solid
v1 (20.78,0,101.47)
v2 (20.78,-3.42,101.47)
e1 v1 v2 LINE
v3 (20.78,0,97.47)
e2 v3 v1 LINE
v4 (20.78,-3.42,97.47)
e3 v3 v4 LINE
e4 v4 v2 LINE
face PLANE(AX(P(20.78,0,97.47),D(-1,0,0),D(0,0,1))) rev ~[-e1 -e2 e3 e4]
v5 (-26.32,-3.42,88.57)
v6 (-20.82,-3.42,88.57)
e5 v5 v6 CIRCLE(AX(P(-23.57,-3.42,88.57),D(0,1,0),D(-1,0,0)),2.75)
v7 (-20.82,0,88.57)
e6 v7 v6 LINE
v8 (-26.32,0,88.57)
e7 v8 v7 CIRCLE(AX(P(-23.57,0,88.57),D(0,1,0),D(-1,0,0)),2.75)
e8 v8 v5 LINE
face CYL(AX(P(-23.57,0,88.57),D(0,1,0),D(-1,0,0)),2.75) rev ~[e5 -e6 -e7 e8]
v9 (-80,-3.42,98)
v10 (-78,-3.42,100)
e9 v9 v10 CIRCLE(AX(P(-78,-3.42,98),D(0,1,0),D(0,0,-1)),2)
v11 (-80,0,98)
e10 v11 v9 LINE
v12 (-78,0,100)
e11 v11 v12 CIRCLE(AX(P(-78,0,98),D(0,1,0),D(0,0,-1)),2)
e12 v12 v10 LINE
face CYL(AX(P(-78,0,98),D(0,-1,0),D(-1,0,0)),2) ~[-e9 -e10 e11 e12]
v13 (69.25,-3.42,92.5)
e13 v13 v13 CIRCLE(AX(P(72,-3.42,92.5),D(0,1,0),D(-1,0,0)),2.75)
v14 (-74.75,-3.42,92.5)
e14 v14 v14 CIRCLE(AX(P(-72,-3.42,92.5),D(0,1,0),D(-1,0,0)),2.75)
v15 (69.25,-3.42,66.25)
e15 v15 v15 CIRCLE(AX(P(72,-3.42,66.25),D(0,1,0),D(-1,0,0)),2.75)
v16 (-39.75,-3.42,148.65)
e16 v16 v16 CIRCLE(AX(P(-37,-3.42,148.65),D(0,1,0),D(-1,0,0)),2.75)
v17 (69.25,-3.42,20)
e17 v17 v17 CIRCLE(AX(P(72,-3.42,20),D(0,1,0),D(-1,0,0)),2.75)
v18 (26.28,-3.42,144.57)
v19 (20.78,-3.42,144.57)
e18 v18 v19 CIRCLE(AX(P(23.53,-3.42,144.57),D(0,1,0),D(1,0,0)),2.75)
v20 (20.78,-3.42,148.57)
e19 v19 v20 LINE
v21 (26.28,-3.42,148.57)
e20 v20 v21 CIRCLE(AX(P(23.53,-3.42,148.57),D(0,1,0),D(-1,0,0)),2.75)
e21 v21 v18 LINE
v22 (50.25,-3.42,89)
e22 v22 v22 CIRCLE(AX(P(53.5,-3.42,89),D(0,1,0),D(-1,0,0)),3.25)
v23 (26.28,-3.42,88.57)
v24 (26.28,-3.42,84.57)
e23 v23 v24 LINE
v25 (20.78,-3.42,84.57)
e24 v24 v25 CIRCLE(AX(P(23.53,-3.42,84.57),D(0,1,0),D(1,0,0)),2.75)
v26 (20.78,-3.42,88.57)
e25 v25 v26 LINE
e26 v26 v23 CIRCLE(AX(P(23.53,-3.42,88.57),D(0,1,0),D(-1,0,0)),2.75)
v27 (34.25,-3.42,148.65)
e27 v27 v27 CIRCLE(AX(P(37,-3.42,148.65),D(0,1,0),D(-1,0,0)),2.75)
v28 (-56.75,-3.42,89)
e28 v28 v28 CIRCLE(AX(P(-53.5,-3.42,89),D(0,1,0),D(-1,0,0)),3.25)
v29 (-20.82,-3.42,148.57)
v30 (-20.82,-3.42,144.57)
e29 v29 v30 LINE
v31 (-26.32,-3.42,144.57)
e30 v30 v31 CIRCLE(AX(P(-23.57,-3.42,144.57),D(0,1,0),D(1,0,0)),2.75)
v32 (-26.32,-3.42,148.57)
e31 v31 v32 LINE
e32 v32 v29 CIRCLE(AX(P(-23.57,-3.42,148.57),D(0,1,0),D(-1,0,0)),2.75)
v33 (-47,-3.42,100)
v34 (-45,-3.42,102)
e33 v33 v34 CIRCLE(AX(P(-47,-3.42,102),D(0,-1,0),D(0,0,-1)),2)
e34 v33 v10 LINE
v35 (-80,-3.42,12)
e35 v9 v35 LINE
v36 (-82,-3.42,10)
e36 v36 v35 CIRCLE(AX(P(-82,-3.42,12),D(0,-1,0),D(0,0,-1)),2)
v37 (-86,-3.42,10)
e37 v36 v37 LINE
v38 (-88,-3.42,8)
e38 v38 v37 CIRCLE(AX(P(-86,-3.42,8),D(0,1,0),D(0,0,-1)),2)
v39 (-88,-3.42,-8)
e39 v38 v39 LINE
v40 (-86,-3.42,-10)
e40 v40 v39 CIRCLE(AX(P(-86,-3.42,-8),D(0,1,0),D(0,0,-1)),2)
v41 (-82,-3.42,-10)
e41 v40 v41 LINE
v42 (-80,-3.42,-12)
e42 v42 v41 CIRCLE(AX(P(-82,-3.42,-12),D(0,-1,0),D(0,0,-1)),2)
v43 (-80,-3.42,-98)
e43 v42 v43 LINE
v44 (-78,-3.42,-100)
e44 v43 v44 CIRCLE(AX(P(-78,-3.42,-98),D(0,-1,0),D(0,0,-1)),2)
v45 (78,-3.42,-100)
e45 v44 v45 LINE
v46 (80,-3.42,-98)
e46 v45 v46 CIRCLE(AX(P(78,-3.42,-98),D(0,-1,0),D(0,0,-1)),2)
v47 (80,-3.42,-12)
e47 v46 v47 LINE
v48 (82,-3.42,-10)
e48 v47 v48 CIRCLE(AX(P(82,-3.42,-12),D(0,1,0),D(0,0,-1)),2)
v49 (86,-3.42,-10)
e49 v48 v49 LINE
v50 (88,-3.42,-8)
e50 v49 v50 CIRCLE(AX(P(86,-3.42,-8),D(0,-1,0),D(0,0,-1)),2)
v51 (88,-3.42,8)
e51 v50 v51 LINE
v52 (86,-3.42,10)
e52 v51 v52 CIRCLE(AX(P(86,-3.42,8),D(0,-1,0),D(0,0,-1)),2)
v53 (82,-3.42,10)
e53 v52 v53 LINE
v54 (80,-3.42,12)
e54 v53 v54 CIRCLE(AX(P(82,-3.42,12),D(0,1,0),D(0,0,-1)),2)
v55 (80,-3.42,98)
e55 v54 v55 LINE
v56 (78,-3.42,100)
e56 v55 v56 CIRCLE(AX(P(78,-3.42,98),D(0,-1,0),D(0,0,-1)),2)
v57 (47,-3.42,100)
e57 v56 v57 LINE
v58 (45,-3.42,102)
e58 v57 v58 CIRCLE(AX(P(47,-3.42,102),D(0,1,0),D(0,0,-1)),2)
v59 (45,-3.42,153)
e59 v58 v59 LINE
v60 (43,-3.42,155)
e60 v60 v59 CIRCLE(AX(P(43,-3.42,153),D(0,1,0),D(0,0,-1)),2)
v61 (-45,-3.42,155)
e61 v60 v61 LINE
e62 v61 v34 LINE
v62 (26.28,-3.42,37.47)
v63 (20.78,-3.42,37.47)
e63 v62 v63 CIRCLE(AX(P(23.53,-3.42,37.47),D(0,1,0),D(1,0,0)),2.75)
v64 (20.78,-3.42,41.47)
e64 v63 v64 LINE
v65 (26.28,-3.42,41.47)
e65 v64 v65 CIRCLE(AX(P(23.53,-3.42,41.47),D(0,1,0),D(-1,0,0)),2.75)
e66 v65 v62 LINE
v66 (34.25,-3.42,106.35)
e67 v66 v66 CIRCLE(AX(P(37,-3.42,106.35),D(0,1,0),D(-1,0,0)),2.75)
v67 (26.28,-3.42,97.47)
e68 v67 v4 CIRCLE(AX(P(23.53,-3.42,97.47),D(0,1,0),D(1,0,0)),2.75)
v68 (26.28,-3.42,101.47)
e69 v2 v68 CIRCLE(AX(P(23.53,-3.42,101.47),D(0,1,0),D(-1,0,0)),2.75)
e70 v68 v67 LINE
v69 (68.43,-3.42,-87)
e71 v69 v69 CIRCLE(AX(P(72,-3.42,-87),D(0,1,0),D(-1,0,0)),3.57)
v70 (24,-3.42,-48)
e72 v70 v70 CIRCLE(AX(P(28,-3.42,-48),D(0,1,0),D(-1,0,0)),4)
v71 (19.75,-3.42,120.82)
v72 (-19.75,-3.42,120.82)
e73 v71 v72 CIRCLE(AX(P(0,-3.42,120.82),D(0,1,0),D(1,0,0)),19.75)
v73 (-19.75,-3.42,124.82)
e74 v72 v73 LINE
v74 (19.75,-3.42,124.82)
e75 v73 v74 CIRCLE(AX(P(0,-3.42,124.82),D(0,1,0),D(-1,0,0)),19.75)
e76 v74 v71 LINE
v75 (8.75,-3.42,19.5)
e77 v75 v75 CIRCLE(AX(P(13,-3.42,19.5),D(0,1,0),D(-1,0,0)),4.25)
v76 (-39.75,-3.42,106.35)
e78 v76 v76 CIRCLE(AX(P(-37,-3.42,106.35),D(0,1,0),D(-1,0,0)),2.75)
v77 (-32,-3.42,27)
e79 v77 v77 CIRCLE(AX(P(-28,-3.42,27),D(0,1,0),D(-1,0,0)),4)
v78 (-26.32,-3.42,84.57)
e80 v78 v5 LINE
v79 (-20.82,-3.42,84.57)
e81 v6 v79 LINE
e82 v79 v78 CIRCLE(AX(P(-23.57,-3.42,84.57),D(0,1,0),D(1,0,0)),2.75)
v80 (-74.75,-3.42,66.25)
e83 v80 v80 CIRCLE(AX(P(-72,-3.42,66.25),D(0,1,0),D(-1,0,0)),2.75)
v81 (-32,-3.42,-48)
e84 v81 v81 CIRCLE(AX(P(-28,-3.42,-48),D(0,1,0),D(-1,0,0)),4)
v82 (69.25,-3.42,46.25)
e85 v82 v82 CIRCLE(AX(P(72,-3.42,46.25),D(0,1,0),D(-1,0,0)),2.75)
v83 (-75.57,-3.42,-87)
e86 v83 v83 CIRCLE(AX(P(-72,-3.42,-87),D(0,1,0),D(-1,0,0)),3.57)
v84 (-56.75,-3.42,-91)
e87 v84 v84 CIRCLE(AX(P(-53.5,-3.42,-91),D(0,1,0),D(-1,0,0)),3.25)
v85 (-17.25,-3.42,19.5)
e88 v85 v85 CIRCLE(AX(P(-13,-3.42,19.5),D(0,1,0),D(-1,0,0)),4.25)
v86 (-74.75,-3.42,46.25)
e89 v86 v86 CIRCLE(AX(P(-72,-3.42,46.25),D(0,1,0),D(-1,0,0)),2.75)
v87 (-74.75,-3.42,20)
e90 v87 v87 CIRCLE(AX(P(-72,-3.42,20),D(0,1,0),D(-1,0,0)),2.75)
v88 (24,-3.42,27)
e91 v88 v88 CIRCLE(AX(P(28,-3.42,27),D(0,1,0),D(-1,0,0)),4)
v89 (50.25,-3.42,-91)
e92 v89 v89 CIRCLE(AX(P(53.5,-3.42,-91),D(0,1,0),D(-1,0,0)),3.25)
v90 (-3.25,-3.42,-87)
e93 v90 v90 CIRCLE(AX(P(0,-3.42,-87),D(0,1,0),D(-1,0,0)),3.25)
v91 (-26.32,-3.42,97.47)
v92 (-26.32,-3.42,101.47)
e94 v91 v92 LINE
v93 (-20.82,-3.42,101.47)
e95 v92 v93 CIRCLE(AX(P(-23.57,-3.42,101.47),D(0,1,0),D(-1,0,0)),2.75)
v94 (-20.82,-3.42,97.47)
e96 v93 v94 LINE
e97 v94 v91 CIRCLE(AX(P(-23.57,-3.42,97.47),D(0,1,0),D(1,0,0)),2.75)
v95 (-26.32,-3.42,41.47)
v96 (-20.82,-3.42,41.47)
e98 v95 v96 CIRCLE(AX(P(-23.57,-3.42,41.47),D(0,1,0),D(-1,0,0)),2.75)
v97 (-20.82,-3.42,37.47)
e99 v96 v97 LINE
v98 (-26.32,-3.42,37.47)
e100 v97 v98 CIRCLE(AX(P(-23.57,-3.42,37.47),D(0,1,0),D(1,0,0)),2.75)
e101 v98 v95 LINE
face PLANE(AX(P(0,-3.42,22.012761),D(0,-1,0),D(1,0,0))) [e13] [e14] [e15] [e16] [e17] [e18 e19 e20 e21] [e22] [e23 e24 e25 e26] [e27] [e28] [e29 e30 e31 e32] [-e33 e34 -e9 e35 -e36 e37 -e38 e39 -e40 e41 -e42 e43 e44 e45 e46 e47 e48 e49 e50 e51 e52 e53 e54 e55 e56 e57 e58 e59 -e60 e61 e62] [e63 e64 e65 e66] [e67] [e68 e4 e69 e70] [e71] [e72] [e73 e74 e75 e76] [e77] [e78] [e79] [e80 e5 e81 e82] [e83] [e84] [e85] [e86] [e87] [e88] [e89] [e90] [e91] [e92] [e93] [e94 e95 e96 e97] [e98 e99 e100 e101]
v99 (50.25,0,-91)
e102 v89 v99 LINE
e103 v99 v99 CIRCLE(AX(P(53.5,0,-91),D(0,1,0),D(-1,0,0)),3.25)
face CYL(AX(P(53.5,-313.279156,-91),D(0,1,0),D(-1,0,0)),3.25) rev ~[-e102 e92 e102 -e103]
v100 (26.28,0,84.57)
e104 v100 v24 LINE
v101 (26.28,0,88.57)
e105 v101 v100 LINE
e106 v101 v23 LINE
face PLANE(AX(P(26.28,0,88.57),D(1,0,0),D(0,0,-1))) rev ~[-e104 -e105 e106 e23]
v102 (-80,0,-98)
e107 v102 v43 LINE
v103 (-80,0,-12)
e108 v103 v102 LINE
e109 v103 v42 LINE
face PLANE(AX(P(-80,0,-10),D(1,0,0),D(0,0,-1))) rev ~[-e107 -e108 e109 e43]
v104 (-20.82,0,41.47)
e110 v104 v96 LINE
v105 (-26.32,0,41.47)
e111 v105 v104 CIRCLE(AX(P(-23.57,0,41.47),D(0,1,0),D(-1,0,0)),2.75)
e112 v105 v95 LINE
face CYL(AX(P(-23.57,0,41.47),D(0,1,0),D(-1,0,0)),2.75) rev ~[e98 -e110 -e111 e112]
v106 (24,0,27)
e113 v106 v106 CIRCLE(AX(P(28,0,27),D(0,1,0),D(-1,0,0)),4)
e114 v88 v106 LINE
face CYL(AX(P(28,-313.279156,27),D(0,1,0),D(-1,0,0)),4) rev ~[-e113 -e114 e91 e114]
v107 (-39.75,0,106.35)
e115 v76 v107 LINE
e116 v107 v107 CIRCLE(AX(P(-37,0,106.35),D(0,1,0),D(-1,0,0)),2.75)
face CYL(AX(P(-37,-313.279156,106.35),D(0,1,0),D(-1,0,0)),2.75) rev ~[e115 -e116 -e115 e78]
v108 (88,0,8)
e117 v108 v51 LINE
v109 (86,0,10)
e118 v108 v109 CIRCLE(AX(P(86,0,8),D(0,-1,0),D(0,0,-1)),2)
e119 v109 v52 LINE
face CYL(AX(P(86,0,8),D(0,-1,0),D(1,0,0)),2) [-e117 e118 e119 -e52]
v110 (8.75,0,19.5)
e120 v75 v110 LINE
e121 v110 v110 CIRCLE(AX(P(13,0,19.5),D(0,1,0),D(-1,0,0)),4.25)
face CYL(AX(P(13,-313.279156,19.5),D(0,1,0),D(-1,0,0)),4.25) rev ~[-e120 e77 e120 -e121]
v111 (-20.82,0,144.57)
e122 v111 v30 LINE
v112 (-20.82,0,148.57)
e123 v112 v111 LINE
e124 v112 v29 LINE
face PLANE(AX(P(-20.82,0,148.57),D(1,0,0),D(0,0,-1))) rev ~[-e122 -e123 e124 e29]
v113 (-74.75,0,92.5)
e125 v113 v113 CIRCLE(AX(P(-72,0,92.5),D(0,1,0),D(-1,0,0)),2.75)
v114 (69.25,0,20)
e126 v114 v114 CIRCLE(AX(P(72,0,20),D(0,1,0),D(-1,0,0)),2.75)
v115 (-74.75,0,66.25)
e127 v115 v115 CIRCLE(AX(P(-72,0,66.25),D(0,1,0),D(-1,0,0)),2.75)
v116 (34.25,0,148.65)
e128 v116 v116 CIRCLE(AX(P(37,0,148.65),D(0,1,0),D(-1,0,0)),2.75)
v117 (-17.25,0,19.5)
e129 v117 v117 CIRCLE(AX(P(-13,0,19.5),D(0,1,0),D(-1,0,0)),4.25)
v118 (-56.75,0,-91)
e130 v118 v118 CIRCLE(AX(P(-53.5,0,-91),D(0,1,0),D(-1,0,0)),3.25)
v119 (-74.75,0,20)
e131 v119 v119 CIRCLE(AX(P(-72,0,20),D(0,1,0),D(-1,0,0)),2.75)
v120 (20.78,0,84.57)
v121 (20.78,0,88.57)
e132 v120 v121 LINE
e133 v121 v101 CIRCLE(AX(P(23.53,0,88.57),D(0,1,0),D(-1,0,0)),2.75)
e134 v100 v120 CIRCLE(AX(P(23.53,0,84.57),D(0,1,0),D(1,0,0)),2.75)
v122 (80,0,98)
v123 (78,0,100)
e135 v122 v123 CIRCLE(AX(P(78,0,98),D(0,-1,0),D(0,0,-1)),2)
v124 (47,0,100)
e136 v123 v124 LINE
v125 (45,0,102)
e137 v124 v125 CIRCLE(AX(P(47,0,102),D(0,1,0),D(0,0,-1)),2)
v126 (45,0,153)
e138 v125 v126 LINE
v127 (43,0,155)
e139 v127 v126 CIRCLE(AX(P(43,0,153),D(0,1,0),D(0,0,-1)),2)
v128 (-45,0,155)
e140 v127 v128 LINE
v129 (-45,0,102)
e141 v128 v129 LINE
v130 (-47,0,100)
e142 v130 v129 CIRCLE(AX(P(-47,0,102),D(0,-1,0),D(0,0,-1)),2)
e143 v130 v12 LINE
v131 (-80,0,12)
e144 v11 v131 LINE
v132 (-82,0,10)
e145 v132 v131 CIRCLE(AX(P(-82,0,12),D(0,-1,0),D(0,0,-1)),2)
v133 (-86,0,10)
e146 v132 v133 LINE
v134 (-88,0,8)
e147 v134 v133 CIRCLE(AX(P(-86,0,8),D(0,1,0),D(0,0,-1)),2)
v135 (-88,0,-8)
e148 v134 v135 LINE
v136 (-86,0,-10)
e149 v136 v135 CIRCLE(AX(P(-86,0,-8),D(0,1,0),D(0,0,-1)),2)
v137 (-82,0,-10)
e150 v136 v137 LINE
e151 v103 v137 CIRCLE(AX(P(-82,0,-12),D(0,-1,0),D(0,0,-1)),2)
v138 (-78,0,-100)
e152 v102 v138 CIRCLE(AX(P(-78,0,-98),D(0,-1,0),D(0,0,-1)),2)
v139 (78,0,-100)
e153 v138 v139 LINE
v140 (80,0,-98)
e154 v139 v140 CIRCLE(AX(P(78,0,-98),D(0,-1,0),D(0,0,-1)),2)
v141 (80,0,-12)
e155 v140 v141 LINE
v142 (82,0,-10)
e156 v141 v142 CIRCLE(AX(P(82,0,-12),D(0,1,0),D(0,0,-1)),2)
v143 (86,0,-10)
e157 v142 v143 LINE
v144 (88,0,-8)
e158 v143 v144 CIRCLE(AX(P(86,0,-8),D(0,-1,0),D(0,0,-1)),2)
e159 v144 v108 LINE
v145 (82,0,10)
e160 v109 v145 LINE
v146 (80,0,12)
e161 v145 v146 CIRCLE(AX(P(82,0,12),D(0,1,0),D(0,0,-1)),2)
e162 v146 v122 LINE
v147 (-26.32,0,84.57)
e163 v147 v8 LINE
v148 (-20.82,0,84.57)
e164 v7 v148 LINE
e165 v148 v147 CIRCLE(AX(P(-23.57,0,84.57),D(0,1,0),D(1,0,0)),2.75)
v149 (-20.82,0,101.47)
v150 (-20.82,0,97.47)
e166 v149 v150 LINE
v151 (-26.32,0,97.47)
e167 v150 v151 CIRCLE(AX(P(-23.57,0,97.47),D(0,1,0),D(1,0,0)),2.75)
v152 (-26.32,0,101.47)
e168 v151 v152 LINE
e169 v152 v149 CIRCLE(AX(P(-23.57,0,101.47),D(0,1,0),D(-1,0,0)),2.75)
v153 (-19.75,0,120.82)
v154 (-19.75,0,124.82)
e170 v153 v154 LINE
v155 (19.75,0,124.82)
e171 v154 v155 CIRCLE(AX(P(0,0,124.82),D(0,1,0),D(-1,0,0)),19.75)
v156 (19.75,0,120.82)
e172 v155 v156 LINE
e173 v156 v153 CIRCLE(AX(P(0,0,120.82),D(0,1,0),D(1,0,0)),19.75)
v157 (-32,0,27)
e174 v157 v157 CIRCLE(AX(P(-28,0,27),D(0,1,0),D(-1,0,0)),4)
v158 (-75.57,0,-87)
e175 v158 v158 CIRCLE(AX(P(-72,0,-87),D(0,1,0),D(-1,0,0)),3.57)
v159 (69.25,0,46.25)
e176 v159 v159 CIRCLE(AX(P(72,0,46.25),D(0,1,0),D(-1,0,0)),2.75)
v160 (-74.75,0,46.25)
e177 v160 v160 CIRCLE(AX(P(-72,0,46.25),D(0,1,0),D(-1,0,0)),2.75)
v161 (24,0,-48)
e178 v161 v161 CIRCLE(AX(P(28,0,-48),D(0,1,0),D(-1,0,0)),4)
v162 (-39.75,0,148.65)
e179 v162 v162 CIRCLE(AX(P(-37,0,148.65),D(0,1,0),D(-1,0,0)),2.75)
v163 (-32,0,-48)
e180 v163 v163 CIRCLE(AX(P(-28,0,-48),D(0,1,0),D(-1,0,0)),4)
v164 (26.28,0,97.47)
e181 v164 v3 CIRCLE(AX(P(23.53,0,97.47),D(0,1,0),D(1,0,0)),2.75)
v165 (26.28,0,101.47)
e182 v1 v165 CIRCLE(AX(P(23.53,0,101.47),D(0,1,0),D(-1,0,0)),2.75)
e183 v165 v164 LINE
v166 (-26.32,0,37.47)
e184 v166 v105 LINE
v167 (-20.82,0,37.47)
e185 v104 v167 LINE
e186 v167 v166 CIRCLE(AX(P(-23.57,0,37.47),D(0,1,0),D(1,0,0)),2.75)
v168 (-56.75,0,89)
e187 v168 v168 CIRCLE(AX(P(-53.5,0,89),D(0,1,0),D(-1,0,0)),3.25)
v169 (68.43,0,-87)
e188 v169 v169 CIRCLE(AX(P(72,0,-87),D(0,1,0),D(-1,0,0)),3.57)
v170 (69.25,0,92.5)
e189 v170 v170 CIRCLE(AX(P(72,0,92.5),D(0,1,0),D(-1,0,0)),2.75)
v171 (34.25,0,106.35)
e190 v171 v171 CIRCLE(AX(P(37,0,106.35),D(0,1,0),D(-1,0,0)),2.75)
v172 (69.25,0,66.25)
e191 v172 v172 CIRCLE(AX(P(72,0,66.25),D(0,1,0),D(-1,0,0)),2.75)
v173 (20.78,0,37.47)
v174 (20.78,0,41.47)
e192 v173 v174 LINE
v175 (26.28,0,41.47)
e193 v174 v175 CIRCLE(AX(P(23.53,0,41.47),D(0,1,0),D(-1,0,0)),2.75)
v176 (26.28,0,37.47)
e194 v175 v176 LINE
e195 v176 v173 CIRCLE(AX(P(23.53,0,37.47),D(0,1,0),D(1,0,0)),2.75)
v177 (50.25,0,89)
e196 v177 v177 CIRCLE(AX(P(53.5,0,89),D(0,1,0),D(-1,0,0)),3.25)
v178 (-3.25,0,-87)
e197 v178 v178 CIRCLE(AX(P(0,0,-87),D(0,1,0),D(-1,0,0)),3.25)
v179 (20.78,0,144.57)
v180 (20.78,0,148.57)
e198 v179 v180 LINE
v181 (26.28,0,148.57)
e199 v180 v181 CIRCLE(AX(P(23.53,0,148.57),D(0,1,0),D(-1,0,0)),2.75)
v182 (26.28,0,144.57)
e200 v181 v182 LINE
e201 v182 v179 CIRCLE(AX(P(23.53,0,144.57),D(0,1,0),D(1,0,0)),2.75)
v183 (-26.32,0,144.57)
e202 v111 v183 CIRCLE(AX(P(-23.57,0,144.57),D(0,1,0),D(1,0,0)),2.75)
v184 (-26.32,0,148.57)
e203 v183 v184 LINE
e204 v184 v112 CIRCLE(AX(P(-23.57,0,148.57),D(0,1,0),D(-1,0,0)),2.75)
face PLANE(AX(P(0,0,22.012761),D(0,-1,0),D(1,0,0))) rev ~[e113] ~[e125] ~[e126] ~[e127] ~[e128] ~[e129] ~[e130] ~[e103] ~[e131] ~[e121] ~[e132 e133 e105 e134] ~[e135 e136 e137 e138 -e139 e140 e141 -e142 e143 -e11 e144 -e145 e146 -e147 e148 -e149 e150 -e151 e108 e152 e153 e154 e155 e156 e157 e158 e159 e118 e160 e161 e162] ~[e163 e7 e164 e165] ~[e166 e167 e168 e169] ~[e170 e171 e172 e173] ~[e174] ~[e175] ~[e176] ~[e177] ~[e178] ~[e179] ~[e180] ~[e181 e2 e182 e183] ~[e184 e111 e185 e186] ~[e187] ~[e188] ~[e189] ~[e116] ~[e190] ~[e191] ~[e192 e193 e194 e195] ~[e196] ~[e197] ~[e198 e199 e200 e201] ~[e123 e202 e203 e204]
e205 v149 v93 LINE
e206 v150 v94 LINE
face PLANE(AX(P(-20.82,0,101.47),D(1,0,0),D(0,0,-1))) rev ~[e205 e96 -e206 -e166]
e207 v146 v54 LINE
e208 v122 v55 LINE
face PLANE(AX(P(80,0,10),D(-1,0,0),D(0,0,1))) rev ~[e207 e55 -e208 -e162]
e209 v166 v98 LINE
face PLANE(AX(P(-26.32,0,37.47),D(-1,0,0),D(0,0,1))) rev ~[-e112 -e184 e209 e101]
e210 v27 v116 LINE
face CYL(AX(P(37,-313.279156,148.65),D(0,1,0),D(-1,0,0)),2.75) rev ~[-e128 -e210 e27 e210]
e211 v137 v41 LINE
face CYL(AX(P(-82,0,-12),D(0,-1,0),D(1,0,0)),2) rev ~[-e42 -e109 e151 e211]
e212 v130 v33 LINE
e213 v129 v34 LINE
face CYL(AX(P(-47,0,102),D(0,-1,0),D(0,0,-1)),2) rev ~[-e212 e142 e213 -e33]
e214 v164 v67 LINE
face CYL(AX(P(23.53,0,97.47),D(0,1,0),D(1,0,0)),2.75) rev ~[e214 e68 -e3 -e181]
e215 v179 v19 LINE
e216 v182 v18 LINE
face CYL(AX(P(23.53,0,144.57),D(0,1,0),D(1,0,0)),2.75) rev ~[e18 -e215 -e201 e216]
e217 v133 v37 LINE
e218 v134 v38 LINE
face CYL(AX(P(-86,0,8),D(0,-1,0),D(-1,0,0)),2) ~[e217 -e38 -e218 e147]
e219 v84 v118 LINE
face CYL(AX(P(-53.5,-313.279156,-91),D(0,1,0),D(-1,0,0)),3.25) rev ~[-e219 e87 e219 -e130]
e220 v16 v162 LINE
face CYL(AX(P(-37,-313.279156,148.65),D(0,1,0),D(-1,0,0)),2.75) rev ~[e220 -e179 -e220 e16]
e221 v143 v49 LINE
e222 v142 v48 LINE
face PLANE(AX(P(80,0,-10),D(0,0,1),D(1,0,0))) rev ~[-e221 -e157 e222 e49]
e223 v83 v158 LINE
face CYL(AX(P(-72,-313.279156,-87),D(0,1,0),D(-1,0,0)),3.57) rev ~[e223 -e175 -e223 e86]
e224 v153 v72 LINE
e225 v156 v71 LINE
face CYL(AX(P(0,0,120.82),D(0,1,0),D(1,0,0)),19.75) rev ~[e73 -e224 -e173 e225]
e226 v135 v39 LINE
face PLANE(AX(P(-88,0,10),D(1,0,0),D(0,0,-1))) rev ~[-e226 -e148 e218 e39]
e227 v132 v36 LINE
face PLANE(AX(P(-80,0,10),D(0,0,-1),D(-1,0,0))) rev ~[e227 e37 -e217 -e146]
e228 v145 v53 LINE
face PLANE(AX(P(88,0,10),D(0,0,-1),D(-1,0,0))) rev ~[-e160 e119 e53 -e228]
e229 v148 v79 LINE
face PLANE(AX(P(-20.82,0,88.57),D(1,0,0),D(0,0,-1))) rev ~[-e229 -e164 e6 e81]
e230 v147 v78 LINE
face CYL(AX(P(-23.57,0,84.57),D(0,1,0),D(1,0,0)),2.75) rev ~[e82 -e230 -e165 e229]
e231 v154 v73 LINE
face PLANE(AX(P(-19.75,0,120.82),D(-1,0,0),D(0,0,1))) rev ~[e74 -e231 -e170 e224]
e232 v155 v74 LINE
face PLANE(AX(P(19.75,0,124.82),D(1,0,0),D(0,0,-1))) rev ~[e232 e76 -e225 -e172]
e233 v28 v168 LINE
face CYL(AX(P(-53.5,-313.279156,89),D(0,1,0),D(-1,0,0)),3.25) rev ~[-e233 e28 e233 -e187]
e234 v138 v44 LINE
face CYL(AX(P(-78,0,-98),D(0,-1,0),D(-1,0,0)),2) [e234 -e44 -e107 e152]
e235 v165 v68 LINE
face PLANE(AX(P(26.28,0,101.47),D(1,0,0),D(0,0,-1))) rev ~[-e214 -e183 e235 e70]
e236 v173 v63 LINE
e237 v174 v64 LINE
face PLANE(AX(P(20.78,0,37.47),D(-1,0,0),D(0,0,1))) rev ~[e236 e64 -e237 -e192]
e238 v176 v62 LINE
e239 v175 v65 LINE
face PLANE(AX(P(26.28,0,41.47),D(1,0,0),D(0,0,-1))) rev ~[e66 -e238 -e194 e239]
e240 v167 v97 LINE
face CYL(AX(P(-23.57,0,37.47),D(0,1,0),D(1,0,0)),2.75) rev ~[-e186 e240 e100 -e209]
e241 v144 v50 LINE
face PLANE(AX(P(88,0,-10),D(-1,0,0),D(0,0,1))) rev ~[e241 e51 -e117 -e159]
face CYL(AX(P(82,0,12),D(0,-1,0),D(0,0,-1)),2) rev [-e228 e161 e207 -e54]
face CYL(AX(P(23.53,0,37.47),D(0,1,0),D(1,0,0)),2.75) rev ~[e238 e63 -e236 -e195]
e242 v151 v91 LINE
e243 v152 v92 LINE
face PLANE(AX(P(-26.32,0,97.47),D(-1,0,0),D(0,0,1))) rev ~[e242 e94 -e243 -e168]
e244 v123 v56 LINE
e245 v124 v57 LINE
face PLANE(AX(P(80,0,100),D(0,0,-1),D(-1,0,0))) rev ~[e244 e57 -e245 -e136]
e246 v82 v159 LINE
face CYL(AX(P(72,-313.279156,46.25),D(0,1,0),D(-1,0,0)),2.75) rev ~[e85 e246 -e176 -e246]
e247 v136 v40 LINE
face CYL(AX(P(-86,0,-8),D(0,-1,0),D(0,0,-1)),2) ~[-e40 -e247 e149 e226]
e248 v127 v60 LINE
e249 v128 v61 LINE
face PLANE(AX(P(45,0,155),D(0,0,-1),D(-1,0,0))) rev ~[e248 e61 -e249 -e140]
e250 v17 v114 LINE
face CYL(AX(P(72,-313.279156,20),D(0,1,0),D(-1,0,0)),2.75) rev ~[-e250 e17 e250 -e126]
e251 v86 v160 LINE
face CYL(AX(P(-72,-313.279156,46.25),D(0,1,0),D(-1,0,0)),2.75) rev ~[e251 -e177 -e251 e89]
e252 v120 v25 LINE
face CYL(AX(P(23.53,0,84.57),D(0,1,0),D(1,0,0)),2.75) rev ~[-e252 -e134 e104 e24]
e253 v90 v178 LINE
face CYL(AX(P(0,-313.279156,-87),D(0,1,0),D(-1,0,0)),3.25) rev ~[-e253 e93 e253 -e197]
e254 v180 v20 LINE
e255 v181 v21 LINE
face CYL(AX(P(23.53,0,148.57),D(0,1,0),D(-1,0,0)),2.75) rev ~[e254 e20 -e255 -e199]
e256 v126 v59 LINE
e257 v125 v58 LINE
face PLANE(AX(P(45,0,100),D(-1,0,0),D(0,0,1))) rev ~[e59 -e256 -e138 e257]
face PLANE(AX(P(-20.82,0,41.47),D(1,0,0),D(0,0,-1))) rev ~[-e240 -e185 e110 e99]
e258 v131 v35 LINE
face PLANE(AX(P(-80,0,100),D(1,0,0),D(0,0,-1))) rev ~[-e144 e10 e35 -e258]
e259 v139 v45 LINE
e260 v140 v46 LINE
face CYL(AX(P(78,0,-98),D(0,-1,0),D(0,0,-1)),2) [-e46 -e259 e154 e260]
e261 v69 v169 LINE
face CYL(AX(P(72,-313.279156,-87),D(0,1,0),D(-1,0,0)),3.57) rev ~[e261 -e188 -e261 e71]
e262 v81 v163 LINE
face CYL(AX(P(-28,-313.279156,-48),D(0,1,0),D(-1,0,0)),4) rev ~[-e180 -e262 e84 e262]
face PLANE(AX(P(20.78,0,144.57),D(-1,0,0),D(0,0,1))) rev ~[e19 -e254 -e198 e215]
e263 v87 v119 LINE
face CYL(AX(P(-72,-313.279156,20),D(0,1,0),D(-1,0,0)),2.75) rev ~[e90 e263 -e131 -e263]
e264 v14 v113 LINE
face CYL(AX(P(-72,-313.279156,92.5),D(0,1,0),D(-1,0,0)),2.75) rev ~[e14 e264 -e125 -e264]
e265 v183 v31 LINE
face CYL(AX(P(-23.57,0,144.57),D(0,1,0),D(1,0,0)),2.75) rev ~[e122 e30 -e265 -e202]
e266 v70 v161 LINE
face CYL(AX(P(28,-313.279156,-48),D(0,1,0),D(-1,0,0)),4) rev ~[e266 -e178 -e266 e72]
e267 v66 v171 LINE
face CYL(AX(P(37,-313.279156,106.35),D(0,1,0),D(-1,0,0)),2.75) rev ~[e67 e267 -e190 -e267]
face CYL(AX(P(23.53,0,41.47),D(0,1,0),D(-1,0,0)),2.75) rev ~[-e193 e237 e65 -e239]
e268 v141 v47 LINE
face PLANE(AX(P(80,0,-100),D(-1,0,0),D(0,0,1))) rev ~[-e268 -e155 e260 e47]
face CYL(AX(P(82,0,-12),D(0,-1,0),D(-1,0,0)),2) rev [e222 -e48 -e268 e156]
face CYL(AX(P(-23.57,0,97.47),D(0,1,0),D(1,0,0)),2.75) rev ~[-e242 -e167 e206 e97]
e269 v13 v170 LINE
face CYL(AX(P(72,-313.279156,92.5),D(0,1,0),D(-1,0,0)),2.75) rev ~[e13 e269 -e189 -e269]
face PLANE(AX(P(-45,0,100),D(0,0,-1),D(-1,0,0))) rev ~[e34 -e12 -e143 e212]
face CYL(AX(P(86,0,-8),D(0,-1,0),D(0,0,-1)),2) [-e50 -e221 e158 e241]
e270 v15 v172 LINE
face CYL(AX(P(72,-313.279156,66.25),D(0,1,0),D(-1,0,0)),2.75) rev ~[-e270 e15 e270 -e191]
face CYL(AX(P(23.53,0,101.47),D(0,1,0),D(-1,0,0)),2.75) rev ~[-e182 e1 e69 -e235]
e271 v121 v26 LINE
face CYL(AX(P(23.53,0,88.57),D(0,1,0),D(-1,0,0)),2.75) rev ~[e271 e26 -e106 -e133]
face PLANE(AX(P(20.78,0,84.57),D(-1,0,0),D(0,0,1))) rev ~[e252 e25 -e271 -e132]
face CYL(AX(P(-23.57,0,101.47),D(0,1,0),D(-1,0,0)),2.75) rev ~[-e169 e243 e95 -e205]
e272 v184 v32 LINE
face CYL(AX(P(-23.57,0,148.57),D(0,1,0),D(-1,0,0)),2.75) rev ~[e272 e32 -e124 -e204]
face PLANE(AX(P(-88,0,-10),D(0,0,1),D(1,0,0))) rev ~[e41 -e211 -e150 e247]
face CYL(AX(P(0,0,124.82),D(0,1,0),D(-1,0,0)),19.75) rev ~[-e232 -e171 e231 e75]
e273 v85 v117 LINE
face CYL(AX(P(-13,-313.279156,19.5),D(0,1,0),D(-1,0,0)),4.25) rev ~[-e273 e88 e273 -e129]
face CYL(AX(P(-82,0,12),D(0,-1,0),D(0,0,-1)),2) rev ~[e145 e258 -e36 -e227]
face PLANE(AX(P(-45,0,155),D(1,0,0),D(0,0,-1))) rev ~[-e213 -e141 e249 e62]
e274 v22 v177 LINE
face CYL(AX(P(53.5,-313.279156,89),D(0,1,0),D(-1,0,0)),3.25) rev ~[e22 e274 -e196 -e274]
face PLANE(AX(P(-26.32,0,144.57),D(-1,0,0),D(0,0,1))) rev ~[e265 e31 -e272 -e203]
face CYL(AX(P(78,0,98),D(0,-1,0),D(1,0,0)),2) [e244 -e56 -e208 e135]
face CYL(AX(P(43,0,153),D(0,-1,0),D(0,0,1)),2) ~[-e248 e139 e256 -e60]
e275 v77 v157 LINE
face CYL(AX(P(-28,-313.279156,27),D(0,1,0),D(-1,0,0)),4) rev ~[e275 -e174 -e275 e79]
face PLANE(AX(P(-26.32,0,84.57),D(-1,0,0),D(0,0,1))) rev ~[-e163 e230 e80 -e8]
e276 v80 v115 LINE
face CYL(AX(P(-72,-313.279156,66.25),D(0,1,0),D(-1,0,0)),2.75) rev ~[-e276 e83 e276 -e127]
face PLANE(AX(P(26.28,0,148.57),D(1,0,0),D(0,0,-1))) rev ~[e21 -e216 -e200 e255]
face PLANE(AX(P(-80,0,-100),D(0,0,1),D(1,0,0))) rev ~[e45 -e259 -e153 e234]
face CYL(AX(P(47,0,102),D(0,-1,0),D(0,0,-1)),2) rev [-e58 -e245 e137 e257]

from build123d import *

# Parameters (mm, degrees)
F1_DEPTH = 3.42
F2_R     = 2
F4_D     = 8
F5_D     = 8.5
F6_D     = 6.5
F7_D     = 7.14
F8_D     = 5.5


with BuildPart() as f1:
    # F0 (on Front) → F1 (new body)
    with BuildSketch(Plane.XZ):
        Polygon((-80, -10), (-80, -100), (80, -100), (80, -10), (88, -10), (88, 10), (80, 10), (80, 100), (45, 100), (45, 155), (-45, 155), (-45, 100), (-80, 100), (-80, 10), (-88, 10), (-88, -10), align=None)
        with BuildLine():
            ThreePointArc((-26.32, 41.47), (-23.57, 44.22), (-20.82, 41.47))
            Line((-20.82, 41.47), (-20.82, 37.47))
            ThreePointArc((-20.82, 37.47), (-23.57, 34.72), (-26.32, 37.47))
            Line((-26.32, 37.47), (-26.32, 41.47))
        make_face(mode=Mode.SUBTRACT)
        with BuildLine():
            ThreePointArc((-26.32, 88.57), (-23.57, 91.32), (-20.82, 88.57))
            Line((-20.82, 88.57), (-20.82, 84.57))
            ThreePointArc((-20.82, 84.57), (-23.57, 81.82), (-26.32, 84.57))
            Line((-26.32, 84.57), (-26.32, 88.57))
        make_face(mode=Mode.SUBTRACT)
        with BuildLine():
            ThreePointArc((-26.32, 101.47), (-23.57, 104.22), (-20.82, 101.47))
            Line((-20.82, 101.47), (-20.82, 97.47))
            ThreePointArc((-20.82, 97.47), (-23.57, 94.72), (-26.32, 97.47))
            Line((-26.32, 97.47), (-26.32, 101.47))
        make_face(mode=Mode.SUBTRACT)
        with BuildLine():
            ThreePointArc((-26.32, 148.57), (-23.57, 151.32), (-20.82, 148.57))
            Line((-20.82, 148.57), (-20.82, 144.57))
            ThreePointArc((-20.82, 144.57), (-23.57, 141.82), (-26.32, 144.57))
            Line((-26.32, 144.57), (-26.32, 148.57))
        make_face(mode=Mode.SUBTRACT)
        with BuildLine():
            ThreePointArc((20.78, 41.47), (23.53, 44.22), (26.28, 41.47))
            Line((26.28, 41.47), (26.28, 37.47))
            ThreePointArc((26.28, 37.47), (23.53, 34.72), (20.78, 37.47))
            Line((20.78, 37.47), (20.78, 41.47))
        make_face(mode=Mode.SUBTRACT)
        with BuildLine():
            ThreePointArc((20.78, 88.57), (23.53, 91.32), (26.28, 88.57))
            Line((26.28, 88.57), (26.28, 84.57))
            ThreePointArc((26.28, 84.57), (23.53, 81.82), (20.78, 84.57))
            Line((20.78, 84.57), (20.78, 88.57))
        make_face(mode=Mode.SUBTRACT)
        with BuildLine():
            Line((-19.75, 120.82), (-19.75, 124.82))
            ThreePointArc((-19.75, 124.82), (0, 144.57), (19.75, 124.82))
            Line((19.75, 124.82), (19.75, 120.82))
            ThreePointArc((19.75, 120.82), (0, 101.07), (-19.75, 120.82))
        make_face(mode=Mode.SUBTRACT)
        with BuildLine():
            ThreePointArc((20.78, 101.47), (23.53, 104.22), (26.28, 101.47))
            Line((26.28, 101.47), (26.28, 97.47))
            ThreePointArc((26.28, 97.47), (23.53, 94.72), (20.78, 97.47))
            Line((20.78, 97.47), (20.78, 101.47))
        make_face(mode=Mode.SUBTRACT)
        with BuildLine():
            ThreePointArc((20.78, 148.57), (23.53, 151.32), (26.28, 148.57))
            Line((26.28, 148.57), (26.28, 144.57))
            ThreePointArc((26.28, 144.57), (23.53, 141.82), (20.78, 144.57))
            Line((20.78, 144.57), (20.78, 148.57))
        make_face(mode=Mode.SUBTRACT)
    extrude(amount=F1_DEPTH)

    # F2
    f2_edges = [f1.edges().sort_by_distance(p)[0] for p in [
        (45, -1.71, 155),
        (45, -1.71, 100),
        (80, -1.71, 100),
        (-45, -1.71, 100),
        (-80, -1.71, 100),
        (-80, -1.71, 10),
        (-88, -1.71, 10),
        (-88, -1.71, -10),
        (-80, -1.71, -10),
        (-80, -1.71, -100),
        (80, -1.71, -100),
        (80, -1.71, -10),
        (88, -1.71, -10),
        (88, -1.71, 10),
        (80, -1.71, 10),
    ]]
    fillet(f2_edges, radius=F2_R)

    # F4 (through all)
    with Locations(Plane.XZ.offset(3.42)):
        with Locations((-28, 27), (28, 27), (28, -48), (-28, -48)):
            Hole(F4_D / 2)

    # F5 (through all)
    with Locations(Plane.XZ.offset(3.42)):
        with Locations((-13, 19.5), (13, 19.5)):
            Hole(F5_D / 2)

    # F6 (through all)
    with Locations(Plane.XZ.offset(3.42)):
        with Locations((-53.5, 89), (53.5, 89), (-53.5, -91), (53.5, -91), (0, -87)):
            Hole(F6_D / 2)

    # F7 (through all)
    with Locations(Plane.XZ.offset(3.42)):
        with Locations((-72, -87), (72, -87)):
            Hole(F7_D / 2)

    # F8 (through all)
    with Locations(Plane.XZ.offset(3.42)):
        with Locations((-37, 148.65), (37, 148.65), (37, 106.35), (-37, 106.35), (-72, 92.5), (-72, 66.25), (-72, 20), (-72, 46.25), (72, 46.25), (72, 20), (72, 66.25), (72, 92.5)):
            Hole(F8_D / 2)


solid = f1.part
